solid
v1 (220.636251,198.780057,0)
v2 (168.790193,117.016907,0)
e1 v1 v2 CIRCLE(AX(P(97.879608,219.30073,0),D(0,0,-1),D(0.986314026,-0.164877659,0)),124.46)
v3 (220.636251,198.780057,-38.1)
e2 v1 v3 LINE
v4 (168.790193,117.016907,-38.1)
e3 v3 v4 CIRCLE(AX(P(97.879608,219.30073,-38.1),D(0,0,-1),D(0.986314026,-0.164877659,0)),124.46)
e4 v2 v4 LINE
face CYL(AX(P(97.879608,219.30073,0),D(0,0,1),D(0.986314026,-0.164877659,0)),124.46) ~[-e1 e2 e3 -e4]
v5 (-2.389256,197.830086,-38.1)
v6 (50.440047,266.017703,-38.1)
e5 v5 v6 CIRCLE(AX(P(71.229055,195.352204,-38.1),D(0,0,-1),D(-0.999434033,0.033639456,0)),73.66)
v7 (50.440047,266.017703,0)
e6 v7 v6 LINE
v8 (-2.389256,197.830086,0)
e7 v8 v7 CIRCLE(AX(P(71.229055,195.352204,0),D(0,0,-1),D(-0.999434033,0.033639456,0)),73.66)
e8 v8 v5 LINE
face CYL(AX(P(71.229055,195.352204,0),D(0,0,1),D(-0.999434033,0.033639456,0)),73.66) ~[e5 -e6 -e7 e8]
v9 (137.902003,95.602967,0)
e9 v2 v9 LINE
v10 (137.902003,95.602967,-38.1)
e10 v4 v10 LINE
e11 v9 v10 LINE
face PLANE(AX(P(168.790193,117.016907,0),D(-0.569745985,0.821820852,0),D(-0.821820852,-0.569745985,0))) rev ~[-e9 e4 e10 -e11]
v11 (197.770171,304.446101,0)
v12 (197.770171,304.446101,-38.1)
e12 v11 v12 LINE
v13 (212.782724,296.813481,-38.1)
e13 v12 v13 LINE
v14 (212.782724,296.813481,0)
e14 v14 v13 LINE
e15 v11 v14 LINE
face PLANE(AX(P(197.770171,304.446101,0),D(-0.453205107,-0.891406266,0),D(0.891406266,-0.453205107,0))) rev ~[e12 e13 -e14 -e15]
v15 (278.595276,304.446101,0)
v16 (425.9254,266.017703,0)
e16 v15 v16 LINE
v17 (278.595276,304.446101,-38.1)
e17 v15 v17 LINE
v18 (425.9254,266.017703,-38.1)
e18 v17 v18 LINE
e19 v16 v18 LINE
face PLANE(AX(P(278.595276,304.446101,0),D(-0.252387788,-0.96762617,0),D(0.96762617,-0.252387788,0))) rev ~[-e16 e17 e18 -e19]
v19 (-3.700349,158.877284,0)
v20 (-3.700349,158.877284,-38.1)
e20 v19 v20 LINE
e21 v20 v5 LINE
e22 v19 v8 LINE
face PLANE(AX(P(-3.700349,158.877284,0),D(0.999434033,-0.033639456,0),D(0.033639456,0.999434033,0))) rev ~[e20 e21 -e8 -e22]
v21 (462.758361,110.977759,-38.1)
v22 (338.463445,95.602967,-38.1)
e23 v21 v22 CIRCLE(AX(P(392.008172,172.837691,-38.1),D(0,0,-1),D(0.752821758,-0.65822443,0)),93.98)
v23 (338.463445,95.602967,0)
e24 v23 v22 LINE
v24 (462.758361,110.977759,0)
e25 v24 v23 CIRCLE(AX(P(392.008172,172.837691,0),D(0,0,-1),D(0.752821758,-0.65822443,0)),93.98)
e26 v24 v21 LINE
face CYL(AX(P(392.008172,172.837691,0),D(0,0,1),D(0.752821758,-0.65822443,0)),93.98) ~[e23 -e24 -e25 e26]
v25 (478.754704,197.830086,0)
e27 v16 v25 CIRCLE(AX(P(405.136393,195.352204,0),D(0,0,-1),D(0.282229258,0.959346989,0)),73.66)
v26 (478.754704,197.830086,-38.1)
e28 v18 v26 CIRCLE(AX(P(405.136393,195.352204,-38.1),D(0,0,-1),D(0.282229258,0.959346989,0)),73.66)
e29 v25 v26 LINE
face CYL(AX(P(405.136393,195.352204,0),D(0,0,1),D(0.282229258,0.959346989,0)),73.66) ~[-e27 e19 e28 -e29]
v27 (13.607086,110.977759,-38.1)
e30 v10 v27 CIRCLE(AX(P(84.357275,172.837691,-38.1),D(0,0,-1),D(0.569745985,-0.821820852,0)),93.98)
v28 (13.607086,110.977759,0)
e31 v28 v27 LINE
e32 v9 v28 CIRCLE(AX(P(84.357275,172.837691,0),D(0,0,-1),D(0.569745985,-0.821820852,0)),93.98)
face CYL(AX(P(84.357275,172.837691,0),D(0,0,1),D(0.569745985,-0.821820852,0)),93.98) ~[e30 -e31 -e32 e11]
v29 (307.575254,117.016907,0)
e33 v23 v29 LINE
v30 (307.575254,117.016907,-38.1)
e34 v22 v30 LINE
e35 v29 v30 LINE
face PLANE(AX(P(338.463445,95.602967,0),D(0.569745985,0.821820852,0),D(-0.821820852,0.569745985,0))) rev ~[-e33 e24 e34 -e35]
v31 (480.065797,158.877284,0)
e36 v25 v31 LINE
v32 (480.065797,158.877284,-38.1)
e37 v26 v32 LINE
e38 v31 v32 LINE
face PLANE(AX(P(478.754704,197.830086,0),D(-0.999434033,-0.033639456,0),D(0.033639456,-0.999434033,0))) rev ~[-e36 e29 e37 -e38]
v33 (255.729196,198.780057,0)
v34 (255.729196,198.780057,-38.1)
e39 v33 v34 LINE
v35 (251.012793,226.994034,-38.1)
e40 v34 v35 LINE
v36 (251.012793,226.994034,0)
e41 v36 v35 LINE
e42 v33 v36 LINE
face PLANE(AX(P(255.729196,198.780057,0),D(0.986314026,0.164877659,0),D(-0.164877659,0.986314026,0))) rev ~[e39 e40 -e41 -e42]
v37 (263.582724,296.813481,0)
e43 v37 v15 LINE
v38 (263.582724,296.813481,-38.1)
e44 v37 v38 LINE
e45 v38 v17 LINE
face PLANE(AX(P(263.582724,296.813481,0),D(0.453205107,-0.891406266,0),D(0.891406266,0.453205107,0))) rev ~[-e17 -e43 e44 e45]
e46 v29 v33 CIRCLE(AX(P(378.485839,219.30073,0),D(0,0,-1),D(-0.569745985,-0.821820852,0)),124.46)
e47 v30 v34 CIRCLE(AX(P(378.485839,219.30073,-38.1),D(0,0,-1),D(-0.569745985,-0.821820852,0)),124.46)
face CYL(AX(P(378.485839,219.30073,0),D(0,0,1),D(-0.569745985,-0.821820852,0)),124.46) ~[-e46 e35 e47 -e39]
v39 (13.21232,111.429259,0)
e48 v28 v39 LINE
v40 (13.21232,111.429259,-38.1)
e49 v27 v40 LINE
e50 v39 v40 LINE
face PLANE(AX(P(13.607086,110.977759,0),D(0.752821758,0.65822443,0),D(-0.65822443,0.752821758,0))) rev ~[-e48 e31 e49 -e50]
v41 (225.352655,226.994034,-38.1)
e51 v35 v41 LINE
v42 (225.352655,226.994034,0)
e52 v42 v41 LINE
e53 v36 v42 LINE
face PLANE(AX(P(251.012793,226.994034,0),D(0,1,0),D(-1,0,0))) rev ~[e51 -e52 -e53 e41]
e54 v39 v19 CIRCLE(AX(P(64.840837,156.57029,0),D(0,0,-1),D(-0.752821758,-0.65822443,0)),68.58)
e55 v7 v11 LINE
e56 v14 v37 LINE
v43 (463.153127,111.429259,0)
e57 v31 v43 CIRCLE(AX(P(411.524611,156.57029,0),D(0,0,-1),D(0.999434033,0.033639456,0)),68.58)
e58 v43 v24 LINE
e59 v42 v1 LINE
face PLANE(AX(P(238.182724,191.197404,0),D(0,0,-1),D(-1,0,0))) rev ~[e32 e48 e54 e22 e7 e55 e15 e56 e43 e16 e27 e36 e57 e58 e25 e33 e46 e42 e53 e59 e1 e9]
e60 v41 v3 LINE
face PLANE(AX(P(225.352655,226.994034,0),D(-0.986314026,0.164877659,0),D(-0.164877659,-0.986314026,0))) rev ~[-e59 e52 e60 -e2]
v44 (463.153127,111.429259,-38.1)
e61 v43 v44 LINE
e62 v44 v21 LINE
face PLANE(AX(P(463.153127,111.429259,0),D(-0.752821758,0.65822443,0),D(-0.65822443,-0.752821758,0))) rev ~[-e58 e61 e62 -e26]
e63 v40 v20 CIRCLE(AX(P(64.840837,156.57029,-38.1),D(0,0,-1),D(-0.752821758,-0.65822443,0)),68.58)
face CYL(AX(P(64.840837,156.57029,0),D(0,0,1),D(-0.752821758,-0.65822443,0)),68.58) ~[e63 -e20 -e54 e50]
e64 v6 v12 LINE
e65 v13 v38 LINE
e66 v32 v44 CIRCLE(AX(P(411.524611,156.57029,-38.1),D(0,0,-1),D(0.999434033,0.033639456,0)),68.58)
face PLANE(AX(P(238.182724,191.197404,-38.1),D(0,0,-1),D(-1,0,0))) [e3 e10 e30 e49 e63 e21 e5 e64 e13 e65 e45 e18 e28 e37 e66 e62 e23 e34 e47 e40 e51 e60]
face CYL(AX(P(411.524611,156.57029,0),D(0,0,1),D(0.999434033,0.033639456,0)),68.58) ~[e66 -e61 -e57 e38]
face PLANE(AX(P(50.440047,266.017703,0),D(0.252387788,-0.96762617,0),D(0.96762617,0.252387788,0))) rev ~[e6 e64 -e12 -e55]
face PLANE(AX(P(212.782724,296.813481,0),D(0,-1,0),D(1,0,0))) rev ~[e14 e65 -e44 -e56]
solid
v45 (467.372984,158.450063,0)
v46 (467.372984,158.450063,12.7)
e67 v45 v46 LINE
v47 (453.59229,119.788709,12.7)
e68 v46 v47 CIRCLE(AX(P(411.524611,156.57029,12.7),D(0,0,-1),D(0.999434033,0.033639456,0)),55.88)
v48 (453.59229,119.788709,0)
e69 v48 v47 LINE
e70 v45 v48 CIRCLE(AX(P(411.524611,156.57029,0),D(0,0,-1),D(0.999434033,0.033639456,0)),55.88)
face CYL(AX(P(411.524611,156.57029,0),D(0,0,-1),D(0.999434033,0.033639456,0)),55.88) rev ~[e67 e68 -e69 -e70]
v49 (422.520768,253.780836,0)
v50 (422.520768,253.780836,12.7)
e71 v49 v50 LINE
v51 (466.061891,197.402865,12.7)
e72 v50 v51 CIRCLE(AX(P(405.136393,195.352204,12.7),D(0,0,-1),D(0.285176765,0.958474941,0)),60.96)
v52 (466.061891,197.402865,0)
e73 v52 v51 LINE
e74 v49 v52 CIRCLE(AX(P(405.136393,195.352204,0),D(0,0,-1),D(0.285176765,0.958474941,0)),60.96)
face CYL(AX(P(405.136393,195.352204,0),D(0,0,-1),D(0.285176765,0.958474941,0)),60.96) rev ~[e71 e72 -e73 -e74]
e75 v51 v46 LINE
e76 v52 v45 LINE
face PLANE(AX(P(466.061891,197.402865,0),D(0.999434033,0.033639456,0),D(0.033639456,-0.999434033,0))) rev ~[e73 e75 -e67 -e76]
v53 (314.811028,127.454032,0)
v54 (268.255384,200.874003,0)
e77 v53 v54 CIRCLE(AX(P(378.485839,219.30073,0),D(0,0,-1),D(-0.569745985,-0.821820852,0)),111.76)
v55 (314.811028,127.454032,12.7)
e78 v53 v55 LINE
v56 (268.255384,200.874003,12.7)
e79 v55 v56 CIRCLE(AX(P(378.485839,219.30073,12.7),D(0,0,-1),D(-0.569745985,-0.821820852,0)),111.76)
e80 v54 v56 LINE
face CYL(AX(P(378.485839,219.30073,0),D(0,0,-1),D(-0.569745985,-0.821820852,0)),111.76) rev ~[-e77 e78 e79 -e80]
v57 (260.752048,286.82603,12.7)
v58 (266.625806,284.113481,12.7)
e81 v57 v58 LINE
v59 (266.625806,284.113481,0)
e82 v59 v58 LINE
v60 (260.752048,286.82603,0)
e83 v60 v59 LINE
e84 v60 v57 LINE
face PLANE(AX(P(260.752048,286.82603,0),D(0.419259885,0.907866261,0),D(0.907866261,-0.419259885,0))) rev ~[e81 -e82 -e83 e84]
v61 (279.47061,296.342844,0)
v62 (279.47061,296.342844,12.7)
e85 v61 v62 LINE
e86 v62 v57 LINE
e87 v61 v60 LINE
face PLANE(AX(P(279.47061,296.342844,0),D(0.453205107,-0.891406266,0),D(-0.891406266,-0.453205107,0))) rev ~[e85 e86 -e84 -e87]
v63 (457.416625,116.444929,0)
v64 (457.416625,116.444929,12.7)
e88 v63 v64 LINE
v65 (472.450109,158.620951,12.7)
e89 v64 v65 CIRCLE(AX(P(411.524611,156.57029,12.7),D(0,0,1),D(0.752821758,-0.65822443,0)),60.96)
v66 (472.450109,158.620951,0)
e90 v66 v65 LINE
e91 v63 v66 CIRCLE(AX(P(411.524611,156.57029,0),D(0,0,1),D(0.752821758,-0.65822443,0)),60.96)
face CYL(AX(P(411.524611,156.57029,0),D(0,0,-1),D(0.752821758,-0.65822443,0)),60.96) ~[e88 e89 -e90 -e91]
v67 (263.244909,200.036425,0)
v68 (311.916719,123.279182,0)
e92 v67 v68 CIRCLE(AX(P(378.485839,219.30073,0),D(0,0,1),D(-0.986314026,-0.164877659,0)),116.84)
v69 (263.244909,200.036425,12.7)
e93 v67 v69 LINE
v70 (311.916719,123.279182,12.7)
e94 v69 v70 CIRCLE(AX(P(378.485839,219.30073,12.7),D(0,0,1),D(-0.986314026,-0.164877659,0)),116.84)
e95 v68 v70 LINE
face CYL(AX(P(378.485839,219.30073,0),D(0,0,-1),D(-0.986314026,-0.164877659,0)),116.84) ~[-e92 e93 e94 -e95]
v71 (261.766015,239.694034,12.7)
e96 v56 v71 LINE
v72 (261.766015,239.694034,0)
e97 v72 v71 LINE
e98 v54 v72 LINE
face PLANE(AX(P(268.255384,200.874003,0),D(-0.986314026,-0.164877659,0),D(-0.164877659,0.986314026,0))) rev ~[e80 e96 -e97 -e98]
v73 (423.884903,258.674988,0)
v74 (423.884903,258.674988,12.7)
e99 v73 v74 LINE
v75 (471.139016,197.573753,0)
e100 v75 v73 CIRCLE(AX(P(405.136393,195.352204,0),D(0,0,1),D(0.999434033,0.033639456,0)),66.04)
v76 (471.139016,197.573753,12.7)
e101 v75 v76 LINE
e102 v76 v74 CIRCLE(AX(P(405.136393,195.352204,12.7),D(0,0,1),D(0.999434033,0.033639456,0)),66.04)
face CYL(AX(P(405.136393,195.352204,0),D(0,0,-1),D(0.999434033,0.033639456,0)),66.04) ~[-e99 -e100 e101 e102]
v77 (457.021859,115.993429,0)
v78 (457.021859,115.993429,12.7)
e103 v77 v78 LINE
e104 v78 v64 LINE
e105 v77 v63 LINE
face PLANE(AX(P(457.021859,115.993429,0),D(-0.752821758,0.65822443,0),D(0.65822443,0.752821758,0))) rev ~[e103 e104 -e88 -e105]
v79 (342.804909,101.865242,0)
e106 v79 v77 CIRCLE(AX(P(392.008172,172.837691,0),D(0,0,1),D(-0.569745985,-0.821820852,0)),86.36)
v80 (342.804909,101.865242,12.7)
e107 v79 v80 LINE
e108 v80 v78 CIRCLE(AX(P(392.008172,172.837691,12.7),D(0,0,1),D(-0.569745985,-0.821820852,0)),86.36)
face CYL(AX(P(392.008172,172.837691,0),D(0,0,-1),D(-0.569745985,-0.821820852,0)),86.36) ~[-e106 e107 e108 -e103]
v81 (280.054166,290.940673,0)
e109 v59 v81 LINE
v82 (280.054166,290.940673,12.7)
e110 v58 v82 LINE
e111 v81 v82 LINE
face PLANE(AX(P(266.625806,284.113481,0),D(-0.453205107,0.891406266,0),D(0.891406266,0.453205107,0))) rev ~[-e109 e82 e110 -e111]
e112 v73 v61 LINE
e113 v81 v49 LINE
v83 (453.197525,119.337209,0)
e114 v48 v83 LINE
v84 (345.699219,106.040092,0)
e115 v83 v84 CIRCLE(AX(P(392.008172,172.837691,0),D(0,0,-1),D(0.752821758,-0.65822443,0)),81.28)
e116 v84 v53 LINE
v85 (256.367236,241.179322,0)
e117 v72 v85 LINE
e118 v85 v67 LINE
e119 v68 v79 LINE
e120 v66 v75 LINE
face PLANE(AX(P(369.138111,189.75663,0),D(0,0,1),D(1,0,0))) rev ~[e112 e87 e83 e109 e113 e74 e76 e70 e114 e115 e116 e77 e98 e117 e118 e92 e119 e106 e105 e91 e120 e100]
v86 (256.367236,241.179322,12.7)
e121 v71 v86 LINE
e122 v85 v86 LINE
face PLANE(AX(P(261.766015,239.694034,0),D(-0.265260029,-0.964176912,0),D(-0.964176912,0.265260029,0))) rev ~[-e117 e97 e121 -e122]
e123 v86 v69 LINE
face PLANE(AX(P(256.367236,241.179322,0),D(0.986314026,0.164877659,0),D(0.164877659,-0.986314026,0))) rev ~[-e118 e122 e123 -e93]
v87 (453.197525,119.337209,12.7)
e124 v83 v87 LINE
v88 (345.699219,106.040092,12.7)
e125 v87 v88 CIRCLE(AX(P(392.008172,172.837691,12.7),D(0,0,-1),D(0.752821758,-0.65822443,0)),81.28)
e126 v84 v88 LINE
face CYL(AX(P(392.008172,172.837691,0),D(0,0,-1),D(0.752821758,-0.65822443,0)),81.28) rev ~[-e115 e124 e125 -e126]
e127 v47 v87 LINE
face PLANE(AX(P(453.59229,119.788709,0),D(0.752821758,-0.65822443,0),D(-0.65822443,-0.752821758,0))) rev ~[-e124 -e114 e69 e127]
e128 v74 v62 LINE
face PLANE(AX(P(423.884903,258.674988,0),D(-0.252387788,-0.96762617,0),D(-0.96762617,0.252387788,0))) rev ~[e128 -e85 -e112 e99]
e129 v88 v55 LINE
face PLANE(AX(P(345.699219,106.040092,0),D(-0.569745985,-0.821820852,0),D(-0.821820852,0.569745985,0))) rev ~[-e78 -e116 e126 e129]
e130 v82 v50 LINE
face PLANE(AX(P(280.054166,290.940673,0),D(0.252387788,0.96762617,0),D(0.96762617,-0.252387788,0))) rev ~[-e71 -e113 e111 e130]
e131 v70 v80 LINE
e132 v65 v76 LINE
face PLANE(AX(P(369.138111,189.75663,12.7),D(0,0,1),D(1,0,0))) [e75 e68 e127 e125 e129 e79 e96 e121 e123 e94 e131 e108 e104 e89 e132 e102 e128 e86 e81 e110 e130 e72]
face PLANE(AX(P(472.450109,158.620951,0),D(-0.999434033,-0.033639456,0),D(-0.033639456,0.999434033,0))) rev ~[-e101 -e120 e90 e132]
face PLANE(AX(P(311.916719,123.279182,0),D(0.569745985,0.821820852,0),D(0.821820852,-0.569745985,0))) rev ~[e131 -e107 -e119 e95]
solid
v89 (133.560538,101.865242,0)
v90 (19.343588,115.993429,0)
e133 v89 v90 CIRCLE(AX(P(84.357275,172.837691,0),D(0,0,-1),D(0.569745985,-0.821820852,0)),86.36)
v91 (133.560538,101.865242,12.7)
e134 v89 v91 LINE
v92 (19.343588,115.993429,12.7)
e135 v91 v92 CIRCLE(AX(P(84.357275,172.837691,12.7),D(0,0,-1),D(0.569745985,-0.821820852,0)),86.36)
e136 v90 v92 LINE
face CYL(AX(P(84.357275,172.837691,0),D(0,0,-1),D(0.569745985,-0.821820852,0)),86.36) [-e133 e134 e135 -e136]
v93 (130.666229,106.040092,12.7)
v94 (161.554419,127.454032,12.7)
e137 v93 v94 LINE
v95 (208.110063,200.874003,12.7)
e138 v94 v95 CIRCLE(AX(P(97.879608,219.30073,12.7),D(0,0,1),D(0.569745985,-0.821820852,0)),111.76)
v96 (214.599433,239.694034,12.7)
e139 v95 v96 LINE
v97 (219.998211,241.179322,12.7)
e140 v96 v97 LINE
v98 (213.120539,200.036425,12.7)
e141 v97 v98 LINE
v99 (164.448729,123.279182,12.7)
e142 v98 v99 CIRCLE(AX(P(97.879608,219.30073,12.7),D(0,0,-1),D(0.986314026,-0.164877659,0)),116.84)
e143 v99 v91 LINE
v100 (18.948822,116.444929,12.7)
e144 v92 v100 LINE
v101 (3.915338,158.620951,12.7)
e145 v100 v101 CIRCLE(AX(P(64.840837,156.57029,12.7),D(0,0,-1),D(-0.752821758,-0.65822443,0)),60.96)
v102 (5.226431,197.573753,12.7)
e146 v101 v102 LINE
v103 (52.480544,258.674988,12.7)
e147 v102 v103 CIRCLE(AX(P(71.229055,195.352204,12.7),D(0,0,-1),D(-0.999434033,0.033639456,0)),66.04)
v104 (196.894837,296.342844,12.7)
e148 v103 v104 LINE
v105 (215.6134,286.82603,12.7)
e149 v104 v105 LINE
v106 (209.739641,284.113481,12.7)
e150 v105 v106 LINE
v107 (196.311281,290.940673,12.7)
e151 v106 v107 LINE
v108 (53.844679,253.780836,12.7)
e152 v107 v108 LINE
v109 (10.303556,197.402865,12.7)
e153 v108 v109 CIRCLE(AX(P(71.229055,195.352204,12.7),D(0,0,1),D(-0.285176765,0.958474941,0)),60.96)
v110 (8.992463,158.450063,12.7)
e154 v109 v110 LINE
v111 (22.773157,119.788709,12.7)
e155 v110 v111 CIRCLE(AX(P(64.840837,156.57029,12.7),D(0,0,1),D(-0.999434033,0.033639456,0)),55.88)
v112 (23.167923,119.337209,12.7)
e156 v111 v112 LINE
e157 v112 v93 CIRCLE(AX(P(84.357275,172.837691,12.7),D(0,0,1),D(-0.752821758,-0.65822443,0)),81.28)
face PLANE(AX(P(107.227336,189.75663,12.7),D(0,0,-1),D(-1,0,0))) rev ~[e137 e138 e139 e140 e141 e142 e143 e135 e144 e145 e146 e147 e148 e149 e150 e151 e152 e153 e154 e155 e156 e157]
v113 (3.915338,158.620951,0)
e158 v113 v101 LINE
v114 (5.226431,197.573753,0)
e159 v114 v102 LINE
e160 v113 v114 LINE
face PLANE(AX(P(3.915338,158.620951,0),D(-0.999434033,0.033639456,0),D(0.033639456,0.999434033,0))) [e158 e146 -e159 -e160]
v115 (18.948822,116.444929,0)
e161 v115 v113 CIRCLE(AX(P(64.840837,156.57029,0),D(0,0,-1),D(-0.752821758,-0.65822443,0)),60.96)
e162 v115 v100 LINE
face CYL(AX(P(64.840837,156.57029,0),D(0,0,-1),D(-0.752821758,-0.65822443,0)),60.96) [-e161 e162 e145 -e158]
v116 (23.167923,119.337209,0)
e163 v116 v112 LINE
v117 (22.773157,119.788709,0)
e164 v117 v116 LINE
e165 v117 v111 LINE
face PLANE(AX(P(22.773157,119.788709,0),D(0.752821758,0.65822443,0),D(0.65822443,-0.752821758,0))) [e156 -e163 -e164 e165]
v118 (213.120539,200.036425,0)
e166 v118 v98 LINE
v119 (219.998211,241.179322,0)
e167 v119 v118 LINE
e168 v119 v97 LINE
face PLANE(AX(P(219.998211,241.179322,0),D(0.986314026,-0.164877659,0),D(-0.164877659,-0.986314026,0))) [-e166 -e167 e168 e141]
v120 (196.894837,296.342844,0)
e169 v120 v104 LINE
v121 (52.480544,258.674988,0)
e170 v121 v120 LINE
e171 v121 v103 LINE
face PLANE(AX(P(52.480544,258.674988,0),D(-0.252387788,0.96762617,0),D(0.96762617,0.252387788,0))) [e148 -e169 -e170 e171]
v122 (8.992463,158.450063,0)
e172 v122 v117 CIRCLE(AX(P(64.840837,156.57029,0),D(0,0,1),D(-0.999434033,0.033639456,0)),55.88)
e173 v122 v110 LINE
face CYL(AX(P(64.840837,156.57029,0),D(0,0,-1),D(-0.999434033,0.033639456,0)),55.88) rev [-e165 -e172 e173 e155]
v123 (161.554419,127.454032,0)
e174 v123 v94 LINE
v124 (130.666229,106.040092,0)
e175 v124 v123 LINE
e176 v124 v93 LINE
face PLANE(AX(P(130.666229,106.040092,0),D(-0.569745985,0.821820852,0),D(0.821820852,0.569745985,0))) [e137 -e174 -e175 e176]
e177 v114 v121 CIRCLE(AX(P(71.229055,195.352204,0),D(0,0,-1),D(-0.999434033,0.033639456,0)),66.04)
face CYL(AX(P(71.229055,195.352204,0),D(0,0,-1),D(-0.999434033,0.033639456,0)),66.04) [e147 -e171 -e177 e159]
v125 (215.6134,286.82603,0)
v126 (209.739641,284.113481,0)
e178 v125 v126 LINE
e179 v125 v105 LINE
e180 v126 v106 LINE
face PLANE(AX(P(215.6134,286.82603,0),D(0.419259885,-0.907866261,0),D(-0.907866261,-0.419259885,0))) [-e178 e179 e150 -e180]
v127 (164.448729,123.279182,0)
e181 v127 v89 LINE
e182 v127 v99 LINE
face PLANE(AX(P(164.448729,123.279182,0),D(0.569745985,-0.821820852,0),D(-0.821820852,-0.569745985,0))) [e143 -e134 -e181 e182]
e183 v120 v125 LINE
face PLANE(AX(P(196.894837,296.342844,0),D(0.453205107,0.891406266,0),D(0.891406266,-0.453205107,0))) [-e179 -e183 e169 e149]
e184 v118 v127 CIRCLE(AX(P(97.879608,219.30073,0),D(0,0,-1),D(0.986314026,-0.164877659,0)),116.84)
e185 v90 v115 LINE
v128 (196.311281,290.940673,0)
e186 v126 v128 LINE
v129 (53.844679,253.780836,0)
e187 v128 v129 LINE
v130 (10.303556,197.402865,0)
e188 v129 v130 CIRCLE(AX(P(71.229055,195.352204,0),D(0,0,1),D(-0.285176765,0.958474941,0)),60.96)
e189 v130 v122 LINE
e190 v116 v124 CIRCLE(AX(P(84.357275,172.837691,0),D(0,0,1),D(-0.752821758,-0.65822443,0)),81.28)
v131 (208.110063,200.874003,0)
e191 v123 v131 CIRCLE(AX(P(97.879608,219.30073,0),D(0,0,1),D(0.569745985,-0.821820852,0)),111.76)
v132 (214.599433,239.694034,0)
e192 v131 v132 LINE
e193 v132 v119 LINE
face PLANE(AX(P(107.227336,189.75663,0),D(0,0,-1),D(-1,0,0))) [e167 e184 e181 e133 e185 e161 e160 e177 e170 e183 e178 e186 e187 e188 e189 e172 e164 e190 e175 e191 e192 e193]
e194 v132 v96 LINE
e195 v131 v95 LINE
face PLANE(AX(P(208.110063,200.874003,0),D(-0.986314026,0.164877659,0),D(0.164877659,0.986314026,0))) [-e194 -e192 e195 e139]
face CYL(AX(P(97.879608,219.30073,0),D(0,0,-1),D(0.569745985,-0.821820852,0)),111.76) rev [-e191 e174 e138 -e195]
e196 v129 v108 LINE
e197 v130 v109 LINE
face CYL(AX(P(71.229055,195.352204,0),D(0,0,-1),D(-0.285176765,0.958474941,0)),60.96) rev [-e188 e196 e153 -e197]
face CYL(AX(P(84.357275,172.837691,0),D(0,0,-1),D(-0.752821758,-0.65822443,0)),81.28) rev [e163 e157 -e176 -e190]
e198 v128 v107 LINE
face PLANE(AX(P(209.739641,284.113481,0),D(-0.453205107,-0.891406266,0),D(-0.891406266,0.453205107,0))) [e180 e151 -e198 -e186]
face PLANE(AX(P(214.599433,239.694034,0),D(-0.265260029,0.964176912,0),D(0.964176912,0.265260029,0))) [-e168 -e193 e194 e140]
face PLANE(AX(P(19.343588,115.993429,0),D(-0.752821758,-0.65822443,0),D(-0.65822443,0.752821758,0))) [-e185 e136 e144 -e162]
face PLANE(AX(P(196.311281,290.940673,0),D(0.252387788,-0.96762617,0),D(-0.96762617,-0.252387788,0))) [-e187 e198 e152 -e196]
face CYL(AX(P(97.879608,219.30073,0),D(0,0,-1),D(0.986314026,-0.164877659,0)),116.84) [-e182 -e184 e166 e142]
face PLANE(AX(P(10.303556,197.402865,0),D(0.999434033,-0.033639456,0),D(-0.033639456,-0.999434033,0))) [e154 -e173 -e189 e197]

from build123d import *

# Parameters (mm, degrees)
BOSS_EXTRUDE4_DEPTH   = 12.7
BOSS_EXTRUDE4_2_DEPTH = 12.7
BOSS_EXTRUDE5_DEPTH   = 38.1


with BuildPart() as part:
    # Sketch2 → Boss-Extrude4 (new body)
    with BuildSketch(Plane.XY):
        with BuildLine():
            ThreePointArc((130.666228666, 106.040091995), (74.379304348, 92.172465986), (23.16792252, 119.337209155))
            Line((23.16792252, 119.337209155), (22.77315682, 119.78870897))
            ThreePointArc((22.77315682, 119.78870897), (12.204694496, 137.808335599), (8.992462879, 158.450062944))
            Line((8.992462879, 158.450062944), (10.303555993, 197.402864989))
            ThreePointArc((10.303555993, 197.402864989), (22.982521012, 232.613357646), (53.844679084, 253.780836152))
            Line((53.844679084, 253.780836152), (196.311281008, 290.94067285))
            Line((196.311281008, 290.94067285), (209.739641383, 284.113481114))
            Line((209.739641383, 284.113481114), (215.613399737, 286.826029602))
            Line((215.613399737, 286.826029602), (196.894837031, 296.342844243))
            Line((196.894837031, 296.342844243), (52.480544155, 258.674987582))
            ThreePointArc((52.480544155, 258.674987582), (18.98894665, 235.75335118), (5.226431104, 197.573753427))
            Line((5.226431104, 197.573753427), (3.91533799, 158.620951381))
            ThreePointArc((3.91533799, 158.620951381), (7.419590663, 136.102703369), (18.948822289, 116.444928865))
            Line((18.948822289, 116.444928865), (19.343587989, 115.99342905))
            ThreePointArc((19.343587989, 115.99342905), (73.755681182, 87.130889432), (133.560538269, 101.865242067))
            Line((133.560538269, 101.865242067), (164.448728673, 123.279182124))
            ThreePointArc((164.448728673, 123.279182124), (196.554033533, 156.731222664), (213.120538575, 200.036424744))
            Line((213.120538575, 200.036424744), (219.998210819, 241.179321991))
            Line((219.998210819, 241.179321991), (214.599432522, 239.69403431))
            Line((214.599432522, 239.69403431), (208.110063324, 200.874003253))
            ThreePointArc((208.110063324, 200.874003253), (192.26384111, 159.451636047), (161.55441907, 127.454032052))
            Line((161.55441907, 127.454032052), (130.666228666, 106.040091995))
        make_face()
    extrude(amount=BOSS_EXTRUDE4_DEPTH)


with BuildPart() as body_2:
    # Sketch2 → Boss-Extrude4 2 (new body)
    with BuildSketch(Plane.XY):
        with BuildLine():
            Line((268.255383959, 200.874003253), (261.766014761, 239.69403431))
            Line((261.766014761, 239.69403431), (256.367236464, 241.179321991))
            Line((256.367236464, 241.179321991), (263.244908708, 200.036424744))
            ThreePointArc((263.244908708, 200.036424744), (279.81141375, 156.731222664), (311.91671861, 123.279182124))
            Line((311.91671861, 123.279182124), (342.804909014, 101.865242067))
            ThreePointArc((342.804909014, 101.865242067), (402.609766101, 87.130889432), (457.021859294, 115.99342905))
            Line((457.021859294, 115.99342905), (457.416624994, 116.444928865))
            ThreePointArc((457.416624994, 116.444928865), (468.94585662, 136.102703369), (472.450109293, 158.620951381))
            Line((472.450109293, 158.620951381), (471.139016179, 197.573753427))
            ThreePointArc((471.139016179, 197.573753427), (457.376500633, 235.75335118), (423.884903128, 258.674987582))
            Line((423.884903128, 258.674987582), (279.470610252, 296.342844243))
            Line((279.470610252, 296.342844243), (260.752047545, 286.826029602))
            Line((260.752047545, 286.826029602), (266.6258059, 284.113481114))
            Line((266.6258059, 284.113481114), (280.054166275, 290.94067285))
            Line((280.054166275, 290.94067285), (422.520768199, 253.780836152))
            ThreePointArc((422.520768199, 253.780836152), (453.382926271, 232.613357646), (466.06189129, 197.402864989))
            Line((466.06189129, 197.402864989), (467.372984404, 158.450062944))
            ThreePointArc((467.372984404, 158.450062944), (464.160752787, 137.808335599), (453.592290463, 119.78870897))
            Line((453.592290463, 119.78870897), (453.197524763, 119.337209155))
            ThreePointArc((453.197524763, 119.337209155), (401.986142934, 92.172465986), (345.699218617, 106.040091995))
            Line((345.699218617, 106.040091995), (314.811028213, 127.454032052))
            ThreePointArc((314.811028213, 127.454032052), (284.101606173, 159.451636047), (268.255383959, 200.874003253))
        make_face()
    extrude(amount=BOSS_EXTRUDE4_2_DEPTH)


with BuildPart() as body_3:
    # Sketch2<7> → Boss-Extrude5 (new body)
    with BuildSketch(Plane.XY):
        with BuildLine():
            Line((13.212320492, 111.429258706), (13.607086192, 110.977758891))
            ThreePointArc((13.607086192, 110.977758891), (72.820246431, 79.568524602), (137.902002674, 95.602967174))
            Line((137.902002674, 95.602967174), (168.790193078, 117.016907231))
            ThreePointArc((168.790193078, 117.016907231), (202.989322168, 152.65060259), (220.636251451, 198.780056979))
            Line((220.636251451, 198.780056979), (225.352654567, 226.99403431))
            Line((225.352654567, 226.99403431), (251.012792715, 226.99403431))
            Line((251.012792715, 226.99403431), (255.729195832, 198.780056979))
            ThreePointArc((255.729195832, 198.780056979), (273.376125115, 152.65060259), (307.575254205, 117.016907231))
            Line((307.575254205, 117.016907231), (338.463444609, 95.602967174))
            ThreePointArc((338.463444609, 95.602967174), (403.545200852, 79.568524602), (462.758361091, 110.977758891))
            Line((462.758361091, 110.977758891), (463.153126791, 111.429258706))
            ThreePointArc((463.153126791, 111.429258706), (476.12351237, 133.544255024), (480.065796627, 158.877284038))
            Line((480.065796627, 158.877284038), (478.754703513, 197.830086083))
            ThreePointArc((478.754703513, 197.830086083), (463.365021319, 240.465642974), (425.925399797, 266.017702963))
            Line((425.925399797, 266.017702963), (278.595276217, 304.446101331))
            Line((278.595276217, 304.446101331), (263.582723641, 296.813481114))
            Line((263.582723641, 296.813481114), (212.782723641, 296.813481114))
            Line((212.782723641, 296.813481114), (197.770171066, 304.446101331))
            Line((197.770171066, 304.446101331), (50.440047486, 266.017702963))
            ThreePointArc((50.440047486, 266.017702963), (13.000425964, 240.465642974), (-2.38925623, 197.830086083))
            Line((-2.38925623, 197.830086083), (-3.700349344, 158.877284038))
            ThreePointArc((-3.700349344, 158.877284038), (0.241934913, 133.544255024), (13.212320492, 111.429258706))
        make_face()
    extrude(amount=-BOSS_EXTRUDE5_DEPTH)


solid = Compound([part.part, body_2.part, body_3.part])
